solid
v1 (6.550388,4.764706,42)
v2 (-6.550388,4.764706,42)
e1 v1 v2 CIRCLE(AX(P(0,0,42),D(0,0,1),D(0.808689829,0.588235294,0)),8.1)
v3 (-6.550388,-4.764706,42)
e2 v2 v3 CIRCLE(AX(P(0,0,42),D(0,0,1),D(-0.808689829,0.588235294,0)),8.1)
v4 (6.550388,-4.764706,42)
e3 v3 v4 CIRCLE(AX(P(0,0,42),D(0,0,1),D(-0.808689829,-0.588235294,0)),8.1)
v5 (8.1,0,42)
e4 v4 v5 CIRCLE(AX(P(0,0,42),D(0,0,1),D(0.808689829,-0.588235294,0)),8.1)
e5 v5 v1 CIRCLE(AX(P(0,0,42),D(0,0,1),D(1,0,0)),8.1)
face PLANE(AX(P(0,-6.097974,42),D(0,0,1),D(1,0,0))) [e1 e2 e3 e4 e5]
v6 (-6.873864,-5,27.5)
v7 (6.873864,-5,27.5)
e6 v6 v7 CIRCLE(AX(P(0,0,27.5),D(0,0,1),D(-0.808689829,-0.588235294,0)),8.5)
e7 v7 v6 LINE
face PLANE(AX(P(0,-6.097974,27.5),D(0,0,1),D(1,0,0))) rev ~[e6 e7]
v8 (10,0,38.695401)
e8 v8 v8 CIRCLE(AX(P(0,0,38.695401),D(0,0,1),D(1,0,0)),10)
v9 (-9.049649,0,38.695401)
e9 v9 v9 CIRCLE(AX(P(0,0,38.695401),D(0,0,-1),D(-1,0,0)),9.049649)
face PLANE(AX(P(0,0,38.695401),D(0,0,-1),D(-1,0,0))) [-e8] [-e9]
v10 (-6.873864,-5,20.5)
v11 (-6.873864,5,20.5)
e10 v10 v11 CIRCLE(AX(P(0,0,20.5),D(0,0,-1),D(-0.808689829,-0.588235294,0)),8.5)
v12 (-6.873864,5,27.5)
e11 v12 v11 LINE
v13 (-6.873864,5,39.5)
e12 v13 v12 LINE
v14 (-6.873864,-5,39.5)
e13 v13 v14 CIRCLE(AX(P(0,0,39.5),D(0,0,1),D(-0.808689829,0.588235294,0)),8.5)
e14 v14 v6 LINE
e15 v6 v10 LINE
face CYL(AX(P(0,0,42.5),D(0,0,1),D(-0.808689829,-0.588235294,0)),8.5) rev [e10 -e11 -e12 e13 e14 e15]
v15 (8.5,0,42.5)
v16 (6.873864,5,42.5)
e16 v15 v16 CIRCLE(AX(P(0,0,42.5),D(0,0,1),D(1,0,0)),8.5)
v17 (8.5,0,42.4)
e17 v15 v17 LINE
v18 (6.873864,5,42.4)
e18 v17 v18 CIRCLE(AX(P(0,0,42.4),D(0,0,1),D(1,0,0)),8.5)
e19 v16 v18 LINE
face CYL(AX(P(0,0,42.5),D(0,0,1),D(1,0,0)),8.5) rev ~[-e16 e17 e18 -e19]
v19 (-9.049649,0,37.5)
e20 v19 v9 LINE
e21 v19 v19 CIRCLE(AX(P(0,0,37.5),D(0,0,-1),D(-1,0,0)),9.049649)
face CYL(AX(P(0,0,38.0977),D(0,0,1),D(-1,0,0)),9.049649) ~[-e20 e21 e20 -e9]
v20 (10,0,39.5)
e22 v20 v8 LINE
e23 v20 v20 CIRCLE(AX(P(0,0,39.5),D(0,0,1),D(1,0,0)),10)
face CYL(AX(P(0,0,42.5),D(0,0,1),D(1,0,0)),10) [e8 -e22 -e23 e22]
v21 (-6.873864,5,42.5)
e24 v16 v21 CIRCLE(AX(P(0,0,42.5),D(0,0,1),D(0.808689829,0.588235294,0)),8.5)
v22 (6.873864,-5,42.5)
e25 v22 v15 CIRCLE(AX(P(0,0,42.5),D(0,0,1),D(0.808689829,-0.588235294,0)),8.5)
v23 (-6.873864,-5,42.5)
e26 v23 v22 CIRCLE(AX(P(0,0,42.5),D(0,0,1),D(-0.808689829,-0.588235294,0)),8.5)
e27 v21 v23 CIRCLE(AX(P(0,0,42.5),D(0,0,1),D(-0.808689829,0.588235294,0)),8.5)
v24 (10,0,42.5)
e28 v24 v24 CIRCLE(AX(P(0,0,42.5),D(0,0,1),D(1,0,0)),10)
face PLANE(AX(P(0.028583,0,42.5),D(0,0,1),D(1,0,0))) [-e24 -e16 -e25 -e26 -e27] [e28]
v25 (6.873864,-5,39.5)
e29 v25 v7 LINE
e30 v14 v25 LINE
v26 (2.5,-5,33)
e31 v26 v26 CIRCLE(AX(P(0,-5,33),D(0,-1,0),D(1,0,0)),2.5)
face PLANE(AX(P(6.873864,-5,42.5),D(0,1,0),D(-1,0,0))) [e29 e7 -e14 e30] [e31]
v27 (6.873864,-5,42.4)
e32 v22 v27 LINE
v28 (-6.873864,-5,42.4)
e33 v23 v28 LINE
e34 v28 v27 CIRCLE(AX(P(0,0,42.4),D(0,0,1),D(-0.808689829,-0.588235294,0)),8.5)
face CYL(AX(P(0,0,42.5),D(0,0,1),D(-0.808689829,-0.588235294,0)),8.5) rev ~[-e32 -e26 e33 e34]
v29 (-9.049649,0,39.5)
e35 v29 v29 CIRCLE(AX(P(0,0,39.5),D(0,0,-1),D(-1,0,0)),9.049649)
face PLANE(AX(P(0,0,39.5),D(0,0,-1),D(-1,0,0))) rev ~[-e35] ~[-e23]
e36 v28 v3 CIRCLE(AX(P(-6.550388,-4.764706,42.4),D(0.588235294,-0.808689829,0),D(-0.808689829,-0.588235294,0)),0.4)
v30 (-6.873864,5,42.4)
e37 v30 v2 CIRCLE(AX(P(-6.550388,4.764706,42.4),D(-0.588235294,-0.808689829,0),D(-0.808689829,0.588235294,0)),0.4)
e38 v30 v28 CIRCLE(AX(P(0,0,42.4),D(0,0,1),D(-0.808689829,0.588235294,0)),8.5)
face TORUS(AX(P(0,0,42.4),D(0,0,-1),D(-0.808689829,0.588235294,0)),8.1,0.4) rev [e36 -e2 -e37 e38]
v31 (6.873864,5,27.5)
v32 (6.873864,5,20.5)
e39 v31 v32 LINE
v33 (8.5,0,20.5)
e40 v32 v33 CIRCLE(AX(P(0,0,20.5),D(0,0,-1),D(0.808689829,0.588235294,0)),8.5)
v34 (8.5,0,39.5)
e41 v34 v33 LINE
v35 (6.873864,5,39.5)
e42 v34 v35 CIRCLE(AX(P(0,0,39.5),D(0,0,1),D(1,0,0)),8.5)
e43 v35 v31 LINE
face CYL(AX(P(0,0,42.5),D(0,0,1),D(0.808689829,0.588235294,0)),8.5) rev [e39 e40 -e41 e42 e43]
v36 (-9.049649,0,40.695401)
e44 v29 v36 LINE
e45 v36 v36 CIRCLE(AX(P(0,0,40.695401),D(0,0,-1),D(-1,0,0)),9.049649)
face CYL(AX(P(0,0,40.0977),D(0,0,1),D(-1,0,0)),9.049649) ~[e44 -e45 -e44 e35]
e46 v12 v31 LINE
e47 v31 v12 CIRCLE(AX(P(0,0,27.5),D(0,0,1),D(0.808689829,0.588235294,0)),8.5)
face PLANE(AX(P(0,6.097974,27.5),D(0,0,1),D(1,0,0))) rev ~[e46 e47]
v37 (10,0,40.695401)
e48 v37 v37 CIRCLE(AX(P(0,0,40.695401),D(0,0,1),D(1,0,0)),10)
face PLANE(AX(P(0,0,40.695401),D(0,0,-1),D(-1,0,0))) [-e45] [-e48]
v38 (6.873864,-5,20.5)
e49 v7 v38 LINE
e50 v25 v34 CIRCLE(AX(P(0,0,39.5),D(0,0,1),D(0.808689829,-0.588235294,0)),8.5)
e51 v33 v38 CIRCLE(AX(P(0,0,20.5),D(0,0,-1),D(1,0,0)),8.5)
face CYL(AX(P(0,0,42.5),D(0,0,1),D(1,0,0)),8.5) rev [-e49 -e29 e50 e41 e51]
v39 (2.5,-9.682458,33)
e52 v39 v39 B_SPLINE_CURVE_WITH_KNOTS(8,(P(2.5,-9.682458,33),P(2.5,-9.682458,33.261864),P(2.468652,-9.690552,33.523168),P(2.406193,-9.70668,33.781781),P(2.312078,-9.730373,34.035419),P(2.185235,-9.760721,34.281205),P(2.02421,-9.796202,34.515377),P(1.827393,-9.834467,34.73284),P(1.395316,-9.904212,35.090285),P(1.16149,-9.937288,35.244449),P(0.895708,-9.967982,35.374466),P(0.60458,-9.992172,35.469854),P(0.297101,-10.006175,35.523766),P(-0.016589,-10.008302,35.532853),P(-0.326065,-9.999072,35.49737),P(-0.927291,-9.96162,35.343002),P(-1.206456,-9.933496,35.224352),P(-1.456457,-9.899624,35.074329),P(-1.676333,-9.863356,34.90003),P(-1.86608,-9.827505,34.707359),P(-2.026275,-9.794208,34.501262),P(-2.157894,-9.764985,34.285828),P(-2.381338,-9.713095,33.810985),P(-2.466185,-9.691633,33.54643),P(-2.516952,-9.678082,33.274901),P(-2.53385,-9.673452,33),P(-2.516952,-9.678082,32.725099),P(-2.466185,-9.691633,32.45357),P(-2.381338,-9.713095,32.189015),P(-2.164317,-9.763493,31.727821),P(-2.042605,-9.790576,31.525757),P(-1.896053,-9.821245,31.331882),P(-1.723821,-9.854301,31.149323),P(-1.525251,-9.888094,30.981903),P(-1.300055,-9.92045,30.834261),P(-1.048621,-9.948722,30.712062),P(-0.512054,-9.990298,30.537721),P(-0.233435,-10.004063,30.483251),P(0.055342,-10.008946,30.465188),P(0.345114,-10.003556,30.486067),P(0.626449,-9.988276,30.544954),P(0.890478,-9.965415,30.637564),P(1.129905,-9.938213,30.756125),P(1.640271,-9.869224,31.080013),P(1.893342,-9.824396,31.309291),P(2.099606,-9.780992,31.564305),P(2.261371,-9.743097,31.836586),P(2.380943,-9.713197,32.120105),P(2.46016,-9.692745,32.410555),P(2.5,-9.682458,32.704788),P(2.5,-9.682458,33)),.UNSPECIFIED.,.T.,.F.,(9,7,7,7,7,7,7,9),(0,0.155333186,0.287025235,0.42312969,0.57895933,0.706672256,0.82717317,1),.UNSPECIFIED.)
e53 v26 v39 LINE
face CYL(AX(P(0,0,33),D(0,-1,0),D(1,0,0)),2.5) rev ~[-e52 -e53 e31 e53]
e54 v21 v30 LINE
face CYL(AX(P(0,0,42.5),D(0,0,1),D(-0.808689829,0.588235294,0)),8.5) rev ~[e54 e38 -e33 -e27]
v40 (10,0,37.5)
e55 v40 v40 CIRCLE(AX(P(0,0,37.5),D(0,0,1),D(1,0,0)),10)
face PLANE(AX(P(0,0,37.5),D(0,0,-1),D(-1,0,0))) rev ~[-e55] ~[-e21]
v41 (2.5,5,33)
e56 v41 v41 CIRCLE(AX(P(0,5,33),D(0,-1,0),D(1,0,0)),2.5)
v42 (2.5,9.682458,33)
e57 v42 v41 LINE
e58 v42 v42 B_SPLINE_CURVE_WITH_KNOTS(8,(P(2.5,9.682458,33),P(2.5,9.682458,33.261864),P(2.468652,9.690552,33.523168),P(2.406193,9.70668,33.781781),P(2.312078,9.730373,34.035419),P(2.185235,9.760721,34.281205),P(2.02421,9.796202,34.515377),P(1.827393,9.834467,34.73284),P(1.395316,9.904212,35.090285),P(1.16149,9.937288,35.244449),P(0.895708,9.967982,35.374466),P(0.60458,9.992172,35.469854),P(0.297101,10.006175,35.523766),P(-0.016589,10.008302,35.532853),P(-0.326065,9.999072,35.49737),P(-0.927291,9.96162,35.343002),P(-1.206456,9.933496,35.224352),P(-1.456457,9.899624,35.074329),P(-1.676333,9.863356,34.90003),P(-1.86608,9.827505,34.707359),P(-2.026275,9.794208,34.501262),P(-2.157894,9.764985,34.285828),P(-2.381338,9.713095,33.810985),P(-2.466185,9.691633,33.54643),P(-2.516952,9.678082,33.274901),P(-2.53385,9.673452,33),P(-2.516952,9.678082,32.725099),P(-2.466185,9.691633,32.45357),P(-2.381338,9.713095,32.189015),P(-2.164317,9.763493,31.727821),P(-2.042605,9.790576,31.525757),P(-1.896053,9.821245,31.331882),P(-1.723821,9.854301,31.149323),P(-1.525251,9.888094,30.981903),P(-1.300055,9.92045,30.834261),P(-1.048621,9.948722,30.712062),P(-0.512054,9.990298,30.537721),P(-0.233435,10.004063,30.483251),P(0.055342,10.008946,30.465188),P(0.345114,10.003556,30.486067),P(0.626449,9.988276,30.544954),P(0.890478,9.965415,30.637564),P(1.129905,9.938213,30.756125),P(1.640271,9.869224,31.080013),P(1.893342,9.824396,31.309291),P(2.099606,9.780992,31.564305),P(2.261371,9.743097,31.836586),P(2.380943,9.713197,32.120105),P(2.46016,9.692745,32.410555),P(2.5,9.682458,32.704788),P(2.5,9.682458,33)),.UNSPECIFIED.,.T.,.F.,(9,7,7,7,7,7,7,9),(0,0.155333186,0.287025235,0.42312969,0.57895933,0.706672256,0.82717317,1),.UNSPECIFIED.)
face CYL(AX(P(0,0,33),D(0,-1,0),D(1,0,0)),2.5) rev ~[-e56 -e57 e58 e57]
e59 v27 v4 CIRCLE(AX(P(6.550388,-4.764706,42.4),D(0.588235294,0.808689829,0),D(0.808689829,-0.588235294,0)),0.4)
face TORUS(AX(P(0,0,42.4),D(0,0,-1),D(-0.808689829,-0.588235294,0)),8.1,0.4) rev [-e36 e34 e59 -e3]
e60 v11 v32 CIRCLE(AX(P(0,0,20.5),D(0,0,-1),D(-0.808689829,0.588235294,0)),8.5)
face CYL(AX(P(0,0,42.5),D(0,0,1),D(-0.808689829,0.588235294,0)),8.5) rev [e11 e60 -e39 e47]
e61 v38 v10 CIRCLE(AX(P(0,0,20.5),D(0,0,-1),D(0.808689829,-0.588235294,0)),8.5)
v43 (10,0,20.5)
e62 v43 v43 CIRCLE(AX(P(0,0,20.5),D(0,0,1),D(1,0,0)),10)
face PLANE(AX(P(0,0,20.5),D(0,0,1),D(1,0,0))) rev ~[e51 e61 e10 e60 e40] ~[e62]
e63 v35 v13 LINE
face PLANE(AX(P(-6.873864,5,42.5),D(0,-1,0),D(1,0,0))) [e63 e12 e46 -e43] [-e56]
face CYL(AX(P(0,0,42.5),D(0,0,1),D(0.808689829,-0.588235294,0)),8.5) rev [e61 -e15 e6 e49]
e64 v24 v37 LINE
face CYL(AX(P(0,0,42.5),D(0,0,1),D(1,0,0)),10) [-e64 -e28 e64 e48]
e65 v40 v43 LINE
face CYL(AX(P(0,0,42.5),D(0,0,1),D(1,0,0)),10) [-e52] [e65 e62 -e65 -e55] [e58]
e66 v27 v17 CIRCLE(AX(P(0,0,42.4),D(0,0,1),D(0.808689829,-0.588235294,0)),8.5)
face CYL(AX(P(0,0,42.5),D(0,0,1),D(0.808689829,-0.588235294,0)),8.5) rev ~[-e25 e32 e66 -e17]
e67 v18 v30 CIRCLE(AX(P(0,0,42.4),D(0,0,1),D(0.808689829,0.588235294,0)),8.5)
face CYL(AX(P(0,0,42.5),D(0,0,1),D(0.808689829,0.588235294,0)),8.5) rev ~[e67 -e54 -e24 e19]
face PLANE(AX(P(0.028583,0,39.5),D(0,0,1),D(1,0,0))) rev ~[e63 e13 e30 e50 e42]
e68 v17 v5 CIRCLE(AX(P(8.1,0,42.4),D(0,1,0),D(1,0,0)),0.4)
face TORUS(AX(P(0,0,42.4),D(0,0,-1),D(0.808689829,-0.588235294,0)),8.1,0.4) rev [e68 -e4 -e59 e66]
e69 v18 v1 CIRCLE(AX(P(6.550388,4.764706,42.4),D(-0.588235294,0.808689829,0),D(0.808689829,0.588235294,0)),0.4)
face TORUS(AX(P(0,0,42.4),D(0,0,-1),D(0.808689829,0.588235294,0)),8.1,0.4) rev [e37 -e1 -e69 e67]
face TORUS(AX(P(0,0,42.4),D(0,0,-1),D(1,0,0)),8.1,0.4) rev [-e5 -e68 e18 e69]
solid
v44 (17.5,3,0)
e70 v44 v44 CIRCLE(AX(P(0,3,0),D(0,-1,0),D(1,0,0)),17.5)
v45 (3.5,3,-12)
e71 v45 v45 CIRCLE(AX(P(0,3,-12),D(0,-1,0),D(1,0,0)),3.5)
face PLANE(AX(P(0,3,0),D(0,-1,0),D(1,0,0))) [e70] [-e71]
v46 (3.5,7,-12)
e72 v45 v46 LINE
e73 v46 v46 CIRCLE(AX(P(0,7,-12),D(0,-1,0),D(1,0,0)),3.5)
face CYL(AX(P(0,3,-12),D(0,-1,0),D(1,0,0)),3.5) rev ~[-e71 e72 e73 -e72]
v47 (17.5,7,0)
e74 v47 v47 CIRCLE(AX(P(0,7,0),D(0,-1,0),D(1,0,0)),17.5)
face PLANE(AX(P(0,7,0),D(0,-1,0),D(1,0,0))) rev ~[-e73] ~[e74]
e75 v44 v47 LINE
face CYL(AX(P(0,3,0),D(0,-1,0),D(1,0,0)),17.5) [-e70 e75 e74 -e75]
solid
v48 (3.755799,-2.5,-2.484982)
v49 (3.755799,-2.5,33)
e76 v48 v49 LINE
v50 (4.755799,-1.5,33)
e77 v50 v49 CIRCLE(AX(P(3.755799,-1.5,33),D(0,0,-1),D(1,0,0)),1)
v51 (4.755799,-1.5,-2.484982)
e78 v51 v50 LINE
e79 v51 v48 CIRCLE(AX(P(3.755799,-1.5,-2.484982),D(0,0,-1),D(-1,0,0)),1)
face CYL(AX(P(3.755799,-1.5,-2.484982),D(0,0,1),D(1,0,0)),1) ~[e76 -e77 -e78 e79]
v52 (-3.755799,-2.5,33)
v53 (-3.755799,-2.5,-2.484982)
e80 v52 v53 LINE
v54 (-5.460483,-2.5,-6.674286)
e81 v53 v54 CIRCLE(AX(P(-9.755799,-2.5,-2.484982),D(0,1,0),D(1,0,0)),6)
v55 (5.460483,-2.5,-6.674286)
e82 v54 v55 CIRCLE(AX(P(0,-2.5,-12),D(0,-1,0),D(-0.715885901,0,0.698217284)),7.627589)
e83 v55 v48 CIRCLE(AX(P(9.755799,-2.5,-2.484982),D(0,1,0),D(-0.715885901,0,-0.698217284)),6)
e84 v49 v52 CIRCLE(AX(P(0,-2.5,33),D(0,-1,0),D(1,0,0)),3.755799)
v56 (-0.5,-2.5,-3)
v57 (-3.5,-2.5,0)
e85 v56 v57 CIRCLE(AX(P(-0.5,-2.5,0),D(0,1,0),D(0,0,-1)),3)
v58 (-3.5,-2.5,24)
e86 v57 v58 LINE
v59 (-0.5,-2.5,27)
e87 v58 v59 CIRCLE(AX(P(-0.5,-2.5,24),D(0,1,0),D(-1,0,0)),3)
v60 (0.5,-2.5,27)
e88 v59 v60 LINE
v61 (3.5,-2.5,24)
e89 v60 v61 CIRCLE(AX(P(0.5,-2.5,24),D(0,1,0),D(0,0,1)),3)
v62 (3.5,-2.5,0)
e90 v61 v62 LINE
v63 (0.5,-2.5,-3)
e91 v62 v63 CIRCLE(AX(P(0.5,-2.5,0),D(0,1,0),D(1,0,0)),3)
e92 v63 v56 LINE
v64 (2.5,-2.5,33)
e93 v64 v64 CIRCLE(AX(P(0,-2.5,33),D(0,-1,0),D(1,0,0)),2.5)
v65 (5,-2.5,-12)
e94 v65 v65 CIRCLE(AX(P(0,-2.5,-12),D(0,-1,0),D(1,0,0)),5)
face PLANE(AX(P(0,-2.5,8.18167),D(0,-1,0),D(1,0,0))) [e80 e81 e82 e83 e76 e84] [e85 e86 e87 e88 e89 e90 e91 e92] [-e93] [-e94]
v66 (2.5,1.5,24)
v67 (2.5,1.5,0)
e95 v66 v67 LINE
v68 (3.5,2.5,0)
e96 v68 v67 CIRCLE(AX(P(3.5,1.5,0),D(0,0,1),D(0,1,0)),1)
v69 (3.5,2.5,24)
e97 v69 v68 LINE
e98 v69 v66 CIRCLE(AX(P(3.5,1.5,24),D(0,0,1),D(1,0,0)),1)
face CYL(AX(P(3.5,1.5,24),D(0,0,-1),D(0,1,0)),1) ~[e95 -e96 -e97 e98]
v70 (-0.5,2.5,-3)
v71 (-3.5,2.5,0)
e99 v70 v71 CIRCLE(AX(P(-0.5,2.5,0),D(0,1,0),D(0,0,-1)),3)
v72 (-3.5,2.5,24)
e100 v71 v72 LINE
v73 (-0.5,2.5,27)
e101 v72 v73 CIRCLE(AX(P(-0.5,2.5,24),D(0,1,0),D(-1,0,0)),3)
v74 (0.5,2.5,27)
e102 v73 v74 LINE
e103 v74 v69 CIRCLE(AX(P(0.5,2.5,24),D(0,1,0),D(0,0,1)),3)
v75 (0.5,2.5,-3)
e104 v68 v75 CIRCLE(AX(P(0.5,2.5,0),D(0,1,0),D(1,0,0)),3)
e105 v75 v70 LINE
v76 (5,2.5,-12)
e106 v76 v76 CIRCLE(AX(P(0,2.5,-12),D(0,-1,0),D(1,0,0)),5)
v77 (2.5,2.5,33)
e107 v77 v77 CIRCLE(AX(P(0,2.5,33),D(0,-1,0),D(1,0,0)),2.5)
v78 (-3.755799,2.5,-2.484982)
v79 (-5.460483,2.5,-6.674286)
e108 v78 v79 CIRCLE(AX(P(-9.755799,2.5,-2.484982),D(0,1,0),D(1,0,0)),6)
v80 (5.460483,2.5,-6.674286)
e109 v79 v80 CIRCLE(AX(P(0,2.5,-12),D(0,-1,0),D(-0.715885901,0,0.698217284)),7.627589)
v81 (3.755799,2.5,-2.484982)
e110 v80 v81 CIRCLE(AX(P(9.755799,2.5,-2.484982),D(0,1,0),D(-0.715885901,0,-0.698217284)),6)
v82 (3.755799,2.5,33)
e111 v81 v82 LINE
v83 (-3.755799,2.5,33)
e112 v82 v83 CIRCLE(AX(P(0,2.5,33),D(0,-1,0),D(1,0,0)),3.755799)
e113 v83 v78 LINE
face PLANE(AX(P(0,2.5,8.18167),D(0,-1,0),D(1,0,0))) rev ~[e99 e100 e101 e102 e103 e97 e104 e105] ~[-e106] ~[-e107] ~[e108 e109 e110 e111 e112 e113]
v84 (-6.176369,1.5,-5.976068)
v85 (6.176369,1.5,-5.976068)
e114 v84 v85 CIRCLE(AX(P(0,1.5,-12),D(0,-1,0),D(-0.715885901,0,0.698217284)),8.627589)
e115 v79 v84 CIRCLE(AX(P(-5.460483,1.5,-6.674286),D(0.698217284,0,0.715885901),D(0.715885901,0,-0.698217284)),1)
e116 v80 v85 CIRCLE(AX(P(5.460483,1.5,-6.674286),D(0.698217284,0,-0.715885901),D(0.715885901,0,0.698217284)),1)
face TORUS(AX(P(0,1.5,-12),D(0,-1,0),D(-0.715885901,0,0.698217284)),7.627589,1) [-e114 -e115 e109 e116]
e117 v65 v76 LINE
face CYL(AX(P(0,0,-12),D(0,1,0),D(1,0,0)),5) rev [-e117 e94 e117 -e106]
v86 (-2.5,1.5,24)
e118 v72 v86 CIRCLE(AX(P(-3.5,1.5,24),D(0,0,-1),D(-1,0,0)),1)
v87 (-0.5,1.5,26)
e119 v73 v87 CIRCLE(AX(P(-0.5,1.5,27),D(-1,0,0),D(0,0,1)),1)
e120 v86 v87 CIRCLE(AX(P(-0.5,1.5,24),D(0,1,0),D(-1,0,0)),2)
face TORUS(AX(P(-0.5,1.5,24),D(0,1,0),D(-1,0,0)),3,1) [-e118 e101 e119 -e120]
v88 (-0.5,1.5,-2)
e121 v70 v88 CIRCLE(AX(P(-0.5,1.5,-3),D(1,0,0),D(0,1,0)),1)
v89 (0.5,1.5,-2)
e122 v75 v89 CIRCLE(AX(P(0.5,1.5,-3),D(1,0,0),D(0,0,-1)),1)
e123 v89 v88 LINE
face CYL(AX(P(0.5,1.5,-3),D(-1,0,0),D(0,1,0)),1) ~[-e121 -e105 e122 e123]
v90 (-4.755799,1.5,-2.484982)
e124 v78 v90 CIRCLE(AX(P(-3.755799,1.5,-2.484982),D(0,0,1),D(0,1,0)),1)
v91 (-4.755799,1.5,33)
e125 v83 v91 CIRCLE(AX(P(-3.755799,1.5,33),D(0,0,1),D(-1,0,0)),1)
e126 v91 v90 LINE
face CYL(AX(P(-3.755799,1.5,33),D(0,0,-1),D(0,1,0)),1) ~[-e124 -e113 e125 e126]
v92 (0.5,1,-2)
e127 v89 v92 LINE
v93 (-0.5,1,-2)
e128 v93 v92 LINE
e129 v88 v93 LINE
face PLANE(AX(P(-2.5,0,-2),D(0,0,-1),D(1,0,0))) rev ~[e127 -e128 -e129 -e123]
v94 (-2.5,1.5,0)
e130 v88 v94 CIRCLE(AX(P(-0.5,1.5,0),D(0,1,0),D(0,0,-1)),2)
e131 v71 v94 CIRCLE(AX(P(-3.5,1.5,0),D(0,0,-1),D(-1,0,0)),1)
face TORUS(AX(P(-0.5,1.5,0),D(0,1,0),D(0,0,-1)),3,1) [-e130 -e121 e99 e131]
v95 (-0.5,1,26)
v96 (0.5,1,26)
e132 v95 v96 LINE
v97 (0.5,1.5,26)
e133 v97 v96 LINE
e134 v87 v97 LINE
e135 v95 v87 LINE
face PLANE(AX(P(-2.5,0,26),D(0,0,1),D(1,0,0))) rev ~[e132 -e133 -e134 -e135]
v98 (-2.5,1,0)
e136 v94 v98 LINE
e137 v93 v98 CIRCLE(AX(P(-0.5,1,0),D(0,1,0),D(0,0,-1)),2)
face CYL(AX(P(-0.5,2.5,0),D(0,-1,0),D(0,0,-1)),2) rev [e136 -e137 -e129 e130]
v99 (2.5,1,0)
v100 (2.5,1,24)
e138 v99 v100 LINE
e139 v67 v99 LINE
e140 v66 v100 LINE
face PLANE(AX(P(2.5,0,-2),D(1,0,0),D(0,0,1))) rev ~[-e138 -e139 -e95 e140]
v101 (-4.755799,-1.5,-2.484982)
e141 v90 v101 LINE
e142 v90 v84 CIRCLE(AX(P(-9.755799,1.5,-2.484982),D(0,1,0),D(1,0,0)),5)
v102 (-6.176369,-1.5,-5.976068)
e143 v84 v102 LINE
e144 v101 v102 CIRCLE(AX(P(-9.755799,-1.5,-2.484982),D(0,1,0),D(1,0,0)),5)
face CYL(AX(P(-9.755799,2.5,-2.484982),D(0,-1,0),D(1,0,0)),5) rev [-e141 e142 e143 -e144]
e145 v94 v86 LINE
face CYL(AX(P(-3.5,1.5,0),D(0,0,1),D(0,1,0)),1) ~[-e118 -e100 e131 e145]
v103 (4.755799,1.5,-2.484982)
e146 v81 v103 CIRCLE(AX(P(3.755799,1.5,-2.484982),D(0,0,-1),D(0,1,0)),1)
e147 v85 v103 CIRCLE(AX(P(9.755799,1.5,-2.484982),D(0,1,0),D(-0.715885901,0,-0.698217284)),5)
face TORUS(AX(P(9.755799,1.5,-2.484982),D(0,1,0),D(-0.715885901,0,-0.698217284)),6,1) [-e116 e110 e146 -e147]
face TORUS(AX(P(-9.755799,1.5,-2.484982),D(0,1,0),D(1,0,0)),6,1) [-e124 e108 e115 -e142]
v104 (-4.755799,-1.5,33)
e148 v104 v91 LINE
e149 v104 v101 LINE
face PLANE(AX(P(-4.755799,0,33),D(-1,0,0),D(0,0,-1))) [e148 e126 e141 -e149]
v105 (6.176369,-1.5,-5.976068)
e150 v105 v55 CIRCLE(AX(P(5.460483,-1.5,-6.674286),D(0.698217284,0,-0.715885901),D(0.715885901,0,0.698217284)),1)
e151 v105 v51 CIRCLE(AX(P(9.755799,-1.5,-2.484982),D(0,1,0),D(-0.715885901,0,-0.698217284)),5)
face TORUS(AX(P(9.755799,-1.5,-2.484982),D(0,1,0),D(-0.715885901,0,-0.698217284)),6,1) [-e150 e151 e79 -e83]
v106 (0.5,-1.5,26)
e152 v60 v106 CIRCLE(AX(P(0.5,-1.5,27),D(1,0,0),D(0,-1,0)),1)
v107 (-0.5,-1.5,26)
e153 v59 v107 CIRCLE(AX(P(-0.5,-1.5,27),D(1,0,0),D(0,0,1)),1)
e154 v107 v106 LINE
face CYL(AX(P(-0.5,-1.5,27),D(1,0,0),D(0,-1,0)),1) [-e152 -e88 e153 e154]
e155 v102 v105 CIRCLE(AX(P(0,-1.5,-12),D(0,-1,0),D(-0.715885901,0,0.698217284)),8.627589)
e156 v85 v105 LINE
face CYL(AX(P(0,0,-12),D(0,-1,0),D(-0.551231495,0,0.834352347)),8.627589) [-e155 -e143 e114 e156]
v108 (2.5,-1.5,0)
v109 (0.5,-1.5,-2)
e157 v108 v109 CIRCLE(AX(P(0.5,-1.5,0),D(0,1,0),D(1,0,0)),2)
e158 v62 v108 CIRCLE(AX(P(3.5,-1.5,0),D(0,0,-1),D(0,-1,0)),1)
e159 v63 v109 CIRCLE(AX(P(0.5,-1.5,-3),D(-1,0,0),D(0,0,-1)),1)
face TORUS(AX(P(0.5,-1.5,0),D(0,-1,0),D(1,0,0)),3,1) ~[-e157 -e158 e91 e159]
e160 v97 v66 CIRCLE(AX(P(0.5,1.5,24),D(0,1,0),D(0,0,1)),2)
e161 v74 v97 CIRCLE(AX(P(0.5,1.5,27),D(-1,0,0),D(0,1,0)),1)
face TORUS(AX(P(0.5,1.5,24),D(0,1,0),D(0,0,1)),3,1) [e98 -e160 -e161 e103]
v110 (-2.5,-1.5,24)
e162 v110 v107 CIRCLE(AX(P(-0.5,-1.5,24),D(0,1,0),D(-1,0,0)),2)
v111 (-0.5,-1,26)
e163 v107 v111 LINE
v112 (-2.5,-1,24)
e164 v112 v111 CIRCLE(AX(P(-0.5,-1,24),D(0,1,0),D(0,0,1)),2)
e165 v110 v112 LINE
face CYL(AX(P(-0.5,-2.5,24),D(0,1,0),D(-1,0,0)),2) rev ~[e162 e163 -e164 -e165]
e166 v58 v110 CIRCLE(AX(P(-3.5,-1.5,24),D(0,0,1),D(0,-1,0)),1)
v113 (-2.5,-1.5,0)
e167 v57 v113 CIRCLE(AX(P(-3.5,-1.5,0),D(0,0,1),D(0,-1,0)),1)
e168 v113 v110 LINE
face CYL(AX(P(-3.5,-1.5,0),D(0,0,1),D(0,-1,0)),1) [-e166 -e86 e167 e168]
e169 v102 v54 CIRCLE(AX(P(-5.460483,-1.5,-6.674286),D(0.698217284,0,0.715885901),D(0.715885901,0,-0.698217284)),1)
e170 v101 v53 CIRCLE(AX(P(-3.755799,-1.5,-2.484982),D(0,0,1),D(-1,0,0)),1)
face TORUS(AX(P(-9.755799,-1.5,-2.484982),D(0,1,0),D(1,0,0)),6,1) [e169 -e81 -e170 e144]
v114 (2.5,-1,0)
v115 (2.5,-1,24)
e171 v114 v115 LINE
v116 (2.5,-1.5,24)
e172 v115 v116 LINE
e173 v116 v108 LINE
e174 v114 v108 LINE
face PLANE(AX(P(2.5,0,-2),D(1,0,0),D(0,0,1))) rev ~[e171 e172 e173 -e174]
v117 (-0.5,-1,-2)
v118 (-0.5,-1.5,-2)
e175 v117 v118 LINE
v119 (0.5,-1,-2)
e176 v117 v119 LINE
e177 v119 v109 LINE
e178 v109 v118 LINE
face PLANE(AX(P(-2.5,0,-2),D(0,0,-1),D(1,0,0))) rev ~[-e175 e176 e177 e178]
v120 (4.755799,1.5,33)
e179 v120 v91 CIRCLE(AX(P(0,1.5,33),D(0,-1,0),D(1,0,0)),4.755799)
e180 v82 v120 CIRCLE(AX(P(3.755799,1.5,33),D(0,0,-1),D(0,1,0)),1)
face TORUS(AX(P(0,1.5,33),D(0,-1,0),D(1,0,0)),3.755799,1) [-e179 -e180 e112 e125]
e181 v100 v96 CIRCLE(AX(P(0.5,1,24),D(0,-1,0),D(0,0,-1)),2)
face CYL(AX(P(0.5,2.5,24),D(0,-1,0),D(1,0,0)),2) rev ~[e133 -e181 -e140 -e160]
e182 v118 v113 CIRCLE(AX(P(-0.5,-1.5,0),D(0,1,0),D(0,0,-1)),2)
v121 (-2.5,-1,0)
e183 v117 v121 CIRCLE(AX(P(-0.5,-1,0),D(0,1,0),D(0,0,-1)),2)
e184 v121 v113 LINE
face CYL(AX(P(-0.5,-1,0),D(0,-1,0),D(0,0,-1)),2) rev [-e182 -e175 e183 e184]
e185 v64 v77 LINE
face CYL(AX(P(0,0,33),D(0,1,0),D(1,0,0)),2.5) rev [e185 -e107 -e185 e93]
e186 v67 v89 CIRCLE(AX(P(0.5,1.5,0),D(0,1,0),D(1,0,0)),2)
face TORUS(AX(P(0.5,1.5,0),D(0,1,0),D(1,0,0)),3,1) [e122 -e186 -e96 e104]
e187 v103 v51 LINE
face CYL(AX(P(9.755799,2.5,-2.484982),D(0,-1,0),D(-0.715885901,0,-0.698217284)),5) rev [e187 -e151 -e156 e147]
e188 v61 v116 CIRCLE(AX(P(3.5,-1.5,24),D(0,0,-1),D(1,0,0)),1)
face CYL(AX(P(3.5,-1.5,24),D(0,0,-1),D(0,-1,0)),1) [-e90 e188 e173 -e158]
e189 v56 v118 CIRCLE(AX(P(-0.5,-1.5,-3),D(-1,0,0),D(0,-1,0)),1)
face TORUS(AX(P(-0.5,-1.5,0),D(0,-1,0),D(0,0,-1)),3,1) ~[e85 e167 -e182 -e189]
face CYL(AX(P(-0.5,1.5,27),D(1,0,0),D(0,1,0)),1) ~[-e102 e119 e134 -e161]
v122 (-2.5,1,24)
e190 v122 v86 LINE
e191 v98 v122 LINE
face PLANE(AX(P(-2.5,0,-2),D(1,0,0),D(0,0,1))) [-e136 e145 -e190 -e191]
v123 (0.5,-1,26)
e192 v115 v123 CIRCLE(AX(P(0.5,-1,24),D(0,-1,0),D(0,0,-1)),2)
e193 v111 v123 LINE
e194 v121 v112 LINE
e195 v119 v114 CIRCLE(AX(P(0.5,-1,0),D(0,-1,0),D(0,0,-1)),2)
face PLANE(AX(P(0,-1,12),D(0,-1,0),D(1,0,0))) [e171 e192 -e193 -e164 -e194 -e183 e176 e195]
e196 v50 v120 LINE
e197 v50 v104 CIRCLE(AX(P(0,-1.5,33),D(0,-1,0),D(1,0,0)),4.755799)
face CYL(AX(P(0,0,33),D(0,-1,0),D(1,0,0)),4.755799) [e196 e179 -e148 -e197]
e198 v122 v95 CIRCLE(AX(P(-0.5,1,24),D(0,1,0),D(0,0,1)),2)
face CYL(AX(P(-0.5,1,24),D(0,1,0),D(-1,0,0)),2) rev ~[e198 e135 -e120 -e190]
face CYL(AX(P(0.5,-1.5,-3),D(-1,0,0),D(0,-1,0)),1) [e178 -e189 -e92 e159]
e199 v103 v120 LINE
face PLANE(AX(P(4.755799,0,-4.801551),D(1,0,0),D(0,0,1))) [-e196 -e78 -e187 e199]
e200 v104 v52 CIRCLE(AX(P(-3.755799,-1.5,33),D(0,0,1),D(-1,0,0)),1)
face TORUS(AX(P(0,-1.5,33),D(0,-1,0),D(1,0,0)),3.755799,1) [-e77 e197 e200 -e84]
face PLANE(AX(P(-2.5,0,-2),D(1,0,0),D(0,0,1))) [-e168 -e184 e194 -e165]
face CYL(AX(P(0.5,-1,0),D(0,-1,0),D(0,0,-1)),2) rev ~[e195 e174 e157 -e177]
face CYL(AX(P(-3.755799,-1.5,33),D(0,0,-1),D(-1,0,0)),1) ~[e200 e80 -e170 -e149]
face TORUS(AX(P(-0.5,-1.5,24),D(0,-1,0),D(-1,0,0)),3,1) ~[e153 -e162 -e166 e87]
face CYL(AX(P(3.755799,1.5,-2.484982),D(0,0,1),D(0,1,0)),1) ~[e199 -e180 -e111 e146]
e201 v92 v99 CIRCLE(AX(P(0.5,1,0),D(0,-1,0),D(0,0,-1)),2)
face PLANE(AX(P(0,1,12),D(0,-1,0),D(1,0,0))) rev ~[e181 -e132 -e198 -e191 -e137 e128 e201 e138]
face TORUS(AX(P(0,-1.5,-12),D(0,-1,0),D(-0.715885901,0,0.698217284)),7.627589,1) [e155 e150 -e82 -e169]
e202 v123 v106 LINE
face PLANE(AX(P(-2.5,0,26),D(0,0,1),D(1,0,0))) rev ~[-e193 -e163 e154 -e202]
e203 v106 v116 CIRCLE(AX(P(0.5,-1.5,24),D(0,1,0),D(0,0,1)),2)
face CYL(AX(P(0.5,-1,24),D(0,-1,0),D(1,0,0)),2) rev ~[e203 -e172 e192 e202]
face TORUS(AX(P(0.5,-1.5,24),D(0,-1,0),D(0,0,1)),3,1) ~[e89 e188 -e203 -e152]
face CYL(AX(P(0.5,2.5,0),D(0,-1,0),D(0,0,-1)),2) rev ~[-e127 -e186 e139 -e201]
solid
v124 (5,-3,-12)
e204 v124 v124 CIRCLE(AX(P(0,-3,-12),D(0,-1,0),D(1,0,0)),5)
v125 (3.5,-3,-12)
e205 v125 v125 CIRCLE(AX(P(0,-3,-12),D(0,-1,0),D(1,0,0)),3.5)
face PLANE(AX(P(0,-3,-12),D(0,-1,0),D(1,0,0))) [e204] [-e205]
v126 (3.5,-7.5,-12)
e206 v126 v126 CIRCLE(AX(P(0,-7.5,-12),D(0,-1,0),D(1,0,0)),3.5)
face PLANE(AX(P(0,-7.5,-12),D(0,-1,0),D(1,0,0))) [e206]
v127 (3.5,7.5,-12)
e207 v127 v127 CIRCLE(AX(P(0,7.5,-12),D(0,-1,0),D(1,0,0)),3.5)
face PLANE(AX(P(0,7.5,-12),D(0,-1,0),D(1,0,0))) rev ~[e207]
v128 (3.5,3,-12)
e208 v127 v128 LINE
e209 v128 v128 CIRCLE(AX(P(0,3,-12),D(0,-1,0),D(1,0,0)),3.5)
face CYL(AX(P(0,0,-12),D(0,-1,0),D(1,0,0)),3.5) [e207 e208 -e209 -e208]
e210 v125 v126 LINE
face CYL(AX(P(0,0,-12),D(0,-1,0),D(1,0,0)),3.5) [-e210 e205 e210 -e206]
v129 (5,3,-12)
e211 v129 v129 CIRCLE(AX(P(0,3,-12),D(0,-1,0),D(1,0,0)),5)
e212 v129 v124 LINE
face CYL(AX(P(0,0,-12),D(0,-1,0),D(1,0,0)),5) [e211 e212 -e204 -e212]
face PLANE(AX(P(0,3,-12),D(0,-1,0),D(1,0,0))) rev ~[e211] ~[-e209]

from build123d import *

# Parameters (mm, degrees)
F1_R      = 5
F1_W      = 5
F1_H      = 28
F1_R_2    = 2.5
F4_DEPTH  = 2.5
F5_DEPTH  = 1
F6_R      = 5
F7_R      = 2
F8_R      = 1
F9_START  = -3
F0_R      = 17.5
F0_R_2    = 3.5
F9_DEPTH  = 4
F10_DEPTH = 3
F11_R     = 3.5
F12_DEPTH = 7.5
F3_R      = 10
F13_DEPTH = 22
F14_DEPTH = 15
F15_DEPTH = 3
F0_R_3    = 2.5
F16_DEPTH = 11
F17_DEPTH = 0.5
F0_W      = 0.9503506497
F0_H      = 1.1954009533
F19_R     = 0.4


with BuildPart() as f4:
    # F1 (on Front) → F4 (new body, symmetric)
    with BuildSketch(Plane.XZ):
        with BuildLine():
            Line((-4.7557985918, 33), (-4.7557985918, -4.8015511501))
            ThreePointArc((-4.7557985918, -4.8015511501), (0, -20.6275886602), (4.7557985918, -4.8015511501))
            Line((4.7557985918, -4.8015511501), (4.7557985918, 33))
            ThreePointArc((4.7557985918, 33), (0, 37.7557985918), (-4.7557985918, 33))
        make_face()
        with Locations((0, -12)):
            Circle(F1_R, mode=Mode.SUBTRACT)
        with Locations((0, 12)):
            Rectangle(F1_W, F1_H, mode=Mode.SUBTRACT)
        with Locations((0, 33)):
            Circle(F1_R_2, mode=Mode.SUBTRACT)
    extrude(amount=F4_DEPTH, both=True)

    # F1 (on Front) → F5 (join, symmetric)
    with BuildSketch(Plane.XZ):
        with Locations((0, 12)):
            Rectangle(F1_W, F1_H)
    extrude(amount=F5_DEPTH, both=True)

    # F6
    f6_edges = [f4.edges().sort_by_distance(p)[0] for p in [
        (4.755799, 0, -4.801551),
        (-4.755799, 0, -4.801551),
    ]]
    fillet(f6_edges, radius=F6_R)

    # F7
    f7_edges = [f4.edges().sort_by_distance(p)[0] for p in [
        (2.5, -1.75, -2),
        (-2.5, -1.75, -2),
        (2.5, -1.75, 26),
        (-2.5, -1.75, 26),
        (-2.5, 1.75, 26),
        (2.5, 1.75, 26),
        (-2.5, 1.75, -2),
        (2.5, 1.75, -2),
    ]]
    fillet(f7_edges, radius=F7_R)

    # F8
    f8_edges = [f4.edges().sort_by_distance(p)[0] for p in [
        (4.755799, 2.5, 15.257509),
        (-4.755799, -2.5, 15.257509),
        (-1.914214, 2.5, 25.414214),
        (-2.5, -2.5, 12),
    ]]
    fillet(f8_edges, radius=F8_R)


with BuildPart() as f9:
    # F0 (on Front) → F9 (new body)
    with BuildSketch(Plane.XZ.offset(F9_START)):
        Circle(F0_R)
        with Locations((0, -12)):
            Circle(F0_R_2, mode=Mode.SUBTRACT)
    extrude(amount=-F9_DEPTH)


with BuildPart() as f10:
    # F1 (on Front) → F10 (new body, symmetric)
    with BuildSketch(Plane.XZ):
        with Locations((0, -12)):
            Circle(F1_R)
    extrude(amount=F10_DEPTH, both=True)

    # F11 (on Front) → F12 (join, symmetric)
    with BuildSketch(Plane.XZ):
        with Locations((0, -12)):
            Circle(F11_R)
    extrude(amount=F12_DEPTH, both=True)


with BuildPart() as f13:
    # F3 (on line) → F13 (new body)
    with BuildSketch(Plane.XY.offset(42.5)):
        Circle(F3_R)
        with BuildLine():
            ThreePointArc((6.8738635424, 5), (8.0832493501, 2.6288932927), (8.5, 0))
            ThreePointArc((8.5, 0), (8.0832493501, -2.6288932927), (6.8738635424, -5))
            ThreePointArc((6.8738635424, -5), (0, -8.5), (-6.8738635424, -5))
            ThreePointArc((-6.8738635424, -5), (-8.5, 0), (-6.8738635424, 5))
            ThreePointArc((-6.8738635424, 5), (0, 8.5), (6.8738635424, 5))
        make_face(mode=Mode.SUBTRACT)
    extrude(amount=-F13_DEPTH)

    # F3 (on line) → F14 (join)
    with BuildSketch(Plane.XY.offset(42.5)):
        with BuildLine():
            Line((-6.8738635424, 5), (6.8738635424, 5))
            ThreePointArc((6.8738635424, 5), (0, 8.5), (-6.8738635424, 5))
        make_face()
        with BuildLine():
            ThreePointArc((-6.8738635424, -5), (0, -8.5), (6.8738635424, -5))
            Line((6.8738635424, -5), (-6.8738635424, -5))
        make_face()
    extrude(amount=-F14_DEPTH)

    # F3 (on line) → F15 (join)
    with BuildSketch(Plane.XY.offset(42.5)):
        with BuildLine():
            ThreePointArc((6.8738635424, -5), (8.0832493501, -2.6288932927), (8.5, 0))
            ThreePointArc((8.5, 0), (8.0832493501, 2.6288932927), (6.8738635424, 5))
            Line((6.8738635424, 5), (-6.8738635424, 5))
            ThreePointArc((-6.8738635424, 5), (-8.5, 0), (-6.8738635424, -5))
            Line((-6.8738635424, -5), (6.8738635424, -5))
        make_face()
    extrude(amount=-F15_DEPTH)

    # F0 (on Front) → F16 (cut, symmetric)
    with BuildSketch(Plane.XZ):
        with Locations((0, 33)):
            Circle(F0_R_3)
    extrude(amount=F16_DEPTH, both=True, mode=Mode.SUBTRACT)

    # F3 (on line) → F17 (cut)
    with BuildSketch(Plane.XY.offset(42.5)):
        with BuildLine():
            ThreePointArc((-6.8738635424, -5), (0, -8.5), (6.8738635424, -5))
            Line((6.8738635424, -5), (-6.8738635424, -5))
        make_face()
        with BuildLine():
            ThreePointArc((6.8738635424, -5), (8.0832493501, -2.6288932927), (8.5, 0))
            ThreePointArc((8.5, 0), (8.0832493501, 2.6288932927), (6.8738635424, 5))
            Line((6.8738635424, 5), (-6.8738635424, 5))
            ThreePointArc((-6.8738635424, 5), (-8.5, 0), (-6.8738635424, -5))
            Line((-6.8738635424, -5), (6.8738635424, -5))
        make_face()
        with BuildLine():
            Line((-6.8738635424, 5), (6.8738635424, 5))
            ThreePointArc((6.8738635424, 5), (0, 8.5), (-6.8738635424, 5))
        make_face()
    extrude(amount=-F17_DEPTH, mode=Mode.SUBTRACT)

    # F0 (on Front) → F18 (revolve, cut)
    with BuildSketch(Plane.XZ):
        with Locations((-9.5248246752, 38.0977004766)):
            Rectangle(F0_W, F0_H)
        with Locations((-9.5248246752, 40.0977004766)):
            Rectangle(F0_W, F0_H)
    revolve(axis=Axis((0, 0, 27.1345070526), (0, 0, -1)), mode=Mode.SUBTRACT)

    # F19
    f19_edges = [f13.edges().sort_by_distance(p)[0] for p in [
        (-6.873864, -5, 42),
    ]]
    fillet(f19_edges, radius=F19_R)


solid = Compound([f4.part, f9.part, f10.part, f13.part])
